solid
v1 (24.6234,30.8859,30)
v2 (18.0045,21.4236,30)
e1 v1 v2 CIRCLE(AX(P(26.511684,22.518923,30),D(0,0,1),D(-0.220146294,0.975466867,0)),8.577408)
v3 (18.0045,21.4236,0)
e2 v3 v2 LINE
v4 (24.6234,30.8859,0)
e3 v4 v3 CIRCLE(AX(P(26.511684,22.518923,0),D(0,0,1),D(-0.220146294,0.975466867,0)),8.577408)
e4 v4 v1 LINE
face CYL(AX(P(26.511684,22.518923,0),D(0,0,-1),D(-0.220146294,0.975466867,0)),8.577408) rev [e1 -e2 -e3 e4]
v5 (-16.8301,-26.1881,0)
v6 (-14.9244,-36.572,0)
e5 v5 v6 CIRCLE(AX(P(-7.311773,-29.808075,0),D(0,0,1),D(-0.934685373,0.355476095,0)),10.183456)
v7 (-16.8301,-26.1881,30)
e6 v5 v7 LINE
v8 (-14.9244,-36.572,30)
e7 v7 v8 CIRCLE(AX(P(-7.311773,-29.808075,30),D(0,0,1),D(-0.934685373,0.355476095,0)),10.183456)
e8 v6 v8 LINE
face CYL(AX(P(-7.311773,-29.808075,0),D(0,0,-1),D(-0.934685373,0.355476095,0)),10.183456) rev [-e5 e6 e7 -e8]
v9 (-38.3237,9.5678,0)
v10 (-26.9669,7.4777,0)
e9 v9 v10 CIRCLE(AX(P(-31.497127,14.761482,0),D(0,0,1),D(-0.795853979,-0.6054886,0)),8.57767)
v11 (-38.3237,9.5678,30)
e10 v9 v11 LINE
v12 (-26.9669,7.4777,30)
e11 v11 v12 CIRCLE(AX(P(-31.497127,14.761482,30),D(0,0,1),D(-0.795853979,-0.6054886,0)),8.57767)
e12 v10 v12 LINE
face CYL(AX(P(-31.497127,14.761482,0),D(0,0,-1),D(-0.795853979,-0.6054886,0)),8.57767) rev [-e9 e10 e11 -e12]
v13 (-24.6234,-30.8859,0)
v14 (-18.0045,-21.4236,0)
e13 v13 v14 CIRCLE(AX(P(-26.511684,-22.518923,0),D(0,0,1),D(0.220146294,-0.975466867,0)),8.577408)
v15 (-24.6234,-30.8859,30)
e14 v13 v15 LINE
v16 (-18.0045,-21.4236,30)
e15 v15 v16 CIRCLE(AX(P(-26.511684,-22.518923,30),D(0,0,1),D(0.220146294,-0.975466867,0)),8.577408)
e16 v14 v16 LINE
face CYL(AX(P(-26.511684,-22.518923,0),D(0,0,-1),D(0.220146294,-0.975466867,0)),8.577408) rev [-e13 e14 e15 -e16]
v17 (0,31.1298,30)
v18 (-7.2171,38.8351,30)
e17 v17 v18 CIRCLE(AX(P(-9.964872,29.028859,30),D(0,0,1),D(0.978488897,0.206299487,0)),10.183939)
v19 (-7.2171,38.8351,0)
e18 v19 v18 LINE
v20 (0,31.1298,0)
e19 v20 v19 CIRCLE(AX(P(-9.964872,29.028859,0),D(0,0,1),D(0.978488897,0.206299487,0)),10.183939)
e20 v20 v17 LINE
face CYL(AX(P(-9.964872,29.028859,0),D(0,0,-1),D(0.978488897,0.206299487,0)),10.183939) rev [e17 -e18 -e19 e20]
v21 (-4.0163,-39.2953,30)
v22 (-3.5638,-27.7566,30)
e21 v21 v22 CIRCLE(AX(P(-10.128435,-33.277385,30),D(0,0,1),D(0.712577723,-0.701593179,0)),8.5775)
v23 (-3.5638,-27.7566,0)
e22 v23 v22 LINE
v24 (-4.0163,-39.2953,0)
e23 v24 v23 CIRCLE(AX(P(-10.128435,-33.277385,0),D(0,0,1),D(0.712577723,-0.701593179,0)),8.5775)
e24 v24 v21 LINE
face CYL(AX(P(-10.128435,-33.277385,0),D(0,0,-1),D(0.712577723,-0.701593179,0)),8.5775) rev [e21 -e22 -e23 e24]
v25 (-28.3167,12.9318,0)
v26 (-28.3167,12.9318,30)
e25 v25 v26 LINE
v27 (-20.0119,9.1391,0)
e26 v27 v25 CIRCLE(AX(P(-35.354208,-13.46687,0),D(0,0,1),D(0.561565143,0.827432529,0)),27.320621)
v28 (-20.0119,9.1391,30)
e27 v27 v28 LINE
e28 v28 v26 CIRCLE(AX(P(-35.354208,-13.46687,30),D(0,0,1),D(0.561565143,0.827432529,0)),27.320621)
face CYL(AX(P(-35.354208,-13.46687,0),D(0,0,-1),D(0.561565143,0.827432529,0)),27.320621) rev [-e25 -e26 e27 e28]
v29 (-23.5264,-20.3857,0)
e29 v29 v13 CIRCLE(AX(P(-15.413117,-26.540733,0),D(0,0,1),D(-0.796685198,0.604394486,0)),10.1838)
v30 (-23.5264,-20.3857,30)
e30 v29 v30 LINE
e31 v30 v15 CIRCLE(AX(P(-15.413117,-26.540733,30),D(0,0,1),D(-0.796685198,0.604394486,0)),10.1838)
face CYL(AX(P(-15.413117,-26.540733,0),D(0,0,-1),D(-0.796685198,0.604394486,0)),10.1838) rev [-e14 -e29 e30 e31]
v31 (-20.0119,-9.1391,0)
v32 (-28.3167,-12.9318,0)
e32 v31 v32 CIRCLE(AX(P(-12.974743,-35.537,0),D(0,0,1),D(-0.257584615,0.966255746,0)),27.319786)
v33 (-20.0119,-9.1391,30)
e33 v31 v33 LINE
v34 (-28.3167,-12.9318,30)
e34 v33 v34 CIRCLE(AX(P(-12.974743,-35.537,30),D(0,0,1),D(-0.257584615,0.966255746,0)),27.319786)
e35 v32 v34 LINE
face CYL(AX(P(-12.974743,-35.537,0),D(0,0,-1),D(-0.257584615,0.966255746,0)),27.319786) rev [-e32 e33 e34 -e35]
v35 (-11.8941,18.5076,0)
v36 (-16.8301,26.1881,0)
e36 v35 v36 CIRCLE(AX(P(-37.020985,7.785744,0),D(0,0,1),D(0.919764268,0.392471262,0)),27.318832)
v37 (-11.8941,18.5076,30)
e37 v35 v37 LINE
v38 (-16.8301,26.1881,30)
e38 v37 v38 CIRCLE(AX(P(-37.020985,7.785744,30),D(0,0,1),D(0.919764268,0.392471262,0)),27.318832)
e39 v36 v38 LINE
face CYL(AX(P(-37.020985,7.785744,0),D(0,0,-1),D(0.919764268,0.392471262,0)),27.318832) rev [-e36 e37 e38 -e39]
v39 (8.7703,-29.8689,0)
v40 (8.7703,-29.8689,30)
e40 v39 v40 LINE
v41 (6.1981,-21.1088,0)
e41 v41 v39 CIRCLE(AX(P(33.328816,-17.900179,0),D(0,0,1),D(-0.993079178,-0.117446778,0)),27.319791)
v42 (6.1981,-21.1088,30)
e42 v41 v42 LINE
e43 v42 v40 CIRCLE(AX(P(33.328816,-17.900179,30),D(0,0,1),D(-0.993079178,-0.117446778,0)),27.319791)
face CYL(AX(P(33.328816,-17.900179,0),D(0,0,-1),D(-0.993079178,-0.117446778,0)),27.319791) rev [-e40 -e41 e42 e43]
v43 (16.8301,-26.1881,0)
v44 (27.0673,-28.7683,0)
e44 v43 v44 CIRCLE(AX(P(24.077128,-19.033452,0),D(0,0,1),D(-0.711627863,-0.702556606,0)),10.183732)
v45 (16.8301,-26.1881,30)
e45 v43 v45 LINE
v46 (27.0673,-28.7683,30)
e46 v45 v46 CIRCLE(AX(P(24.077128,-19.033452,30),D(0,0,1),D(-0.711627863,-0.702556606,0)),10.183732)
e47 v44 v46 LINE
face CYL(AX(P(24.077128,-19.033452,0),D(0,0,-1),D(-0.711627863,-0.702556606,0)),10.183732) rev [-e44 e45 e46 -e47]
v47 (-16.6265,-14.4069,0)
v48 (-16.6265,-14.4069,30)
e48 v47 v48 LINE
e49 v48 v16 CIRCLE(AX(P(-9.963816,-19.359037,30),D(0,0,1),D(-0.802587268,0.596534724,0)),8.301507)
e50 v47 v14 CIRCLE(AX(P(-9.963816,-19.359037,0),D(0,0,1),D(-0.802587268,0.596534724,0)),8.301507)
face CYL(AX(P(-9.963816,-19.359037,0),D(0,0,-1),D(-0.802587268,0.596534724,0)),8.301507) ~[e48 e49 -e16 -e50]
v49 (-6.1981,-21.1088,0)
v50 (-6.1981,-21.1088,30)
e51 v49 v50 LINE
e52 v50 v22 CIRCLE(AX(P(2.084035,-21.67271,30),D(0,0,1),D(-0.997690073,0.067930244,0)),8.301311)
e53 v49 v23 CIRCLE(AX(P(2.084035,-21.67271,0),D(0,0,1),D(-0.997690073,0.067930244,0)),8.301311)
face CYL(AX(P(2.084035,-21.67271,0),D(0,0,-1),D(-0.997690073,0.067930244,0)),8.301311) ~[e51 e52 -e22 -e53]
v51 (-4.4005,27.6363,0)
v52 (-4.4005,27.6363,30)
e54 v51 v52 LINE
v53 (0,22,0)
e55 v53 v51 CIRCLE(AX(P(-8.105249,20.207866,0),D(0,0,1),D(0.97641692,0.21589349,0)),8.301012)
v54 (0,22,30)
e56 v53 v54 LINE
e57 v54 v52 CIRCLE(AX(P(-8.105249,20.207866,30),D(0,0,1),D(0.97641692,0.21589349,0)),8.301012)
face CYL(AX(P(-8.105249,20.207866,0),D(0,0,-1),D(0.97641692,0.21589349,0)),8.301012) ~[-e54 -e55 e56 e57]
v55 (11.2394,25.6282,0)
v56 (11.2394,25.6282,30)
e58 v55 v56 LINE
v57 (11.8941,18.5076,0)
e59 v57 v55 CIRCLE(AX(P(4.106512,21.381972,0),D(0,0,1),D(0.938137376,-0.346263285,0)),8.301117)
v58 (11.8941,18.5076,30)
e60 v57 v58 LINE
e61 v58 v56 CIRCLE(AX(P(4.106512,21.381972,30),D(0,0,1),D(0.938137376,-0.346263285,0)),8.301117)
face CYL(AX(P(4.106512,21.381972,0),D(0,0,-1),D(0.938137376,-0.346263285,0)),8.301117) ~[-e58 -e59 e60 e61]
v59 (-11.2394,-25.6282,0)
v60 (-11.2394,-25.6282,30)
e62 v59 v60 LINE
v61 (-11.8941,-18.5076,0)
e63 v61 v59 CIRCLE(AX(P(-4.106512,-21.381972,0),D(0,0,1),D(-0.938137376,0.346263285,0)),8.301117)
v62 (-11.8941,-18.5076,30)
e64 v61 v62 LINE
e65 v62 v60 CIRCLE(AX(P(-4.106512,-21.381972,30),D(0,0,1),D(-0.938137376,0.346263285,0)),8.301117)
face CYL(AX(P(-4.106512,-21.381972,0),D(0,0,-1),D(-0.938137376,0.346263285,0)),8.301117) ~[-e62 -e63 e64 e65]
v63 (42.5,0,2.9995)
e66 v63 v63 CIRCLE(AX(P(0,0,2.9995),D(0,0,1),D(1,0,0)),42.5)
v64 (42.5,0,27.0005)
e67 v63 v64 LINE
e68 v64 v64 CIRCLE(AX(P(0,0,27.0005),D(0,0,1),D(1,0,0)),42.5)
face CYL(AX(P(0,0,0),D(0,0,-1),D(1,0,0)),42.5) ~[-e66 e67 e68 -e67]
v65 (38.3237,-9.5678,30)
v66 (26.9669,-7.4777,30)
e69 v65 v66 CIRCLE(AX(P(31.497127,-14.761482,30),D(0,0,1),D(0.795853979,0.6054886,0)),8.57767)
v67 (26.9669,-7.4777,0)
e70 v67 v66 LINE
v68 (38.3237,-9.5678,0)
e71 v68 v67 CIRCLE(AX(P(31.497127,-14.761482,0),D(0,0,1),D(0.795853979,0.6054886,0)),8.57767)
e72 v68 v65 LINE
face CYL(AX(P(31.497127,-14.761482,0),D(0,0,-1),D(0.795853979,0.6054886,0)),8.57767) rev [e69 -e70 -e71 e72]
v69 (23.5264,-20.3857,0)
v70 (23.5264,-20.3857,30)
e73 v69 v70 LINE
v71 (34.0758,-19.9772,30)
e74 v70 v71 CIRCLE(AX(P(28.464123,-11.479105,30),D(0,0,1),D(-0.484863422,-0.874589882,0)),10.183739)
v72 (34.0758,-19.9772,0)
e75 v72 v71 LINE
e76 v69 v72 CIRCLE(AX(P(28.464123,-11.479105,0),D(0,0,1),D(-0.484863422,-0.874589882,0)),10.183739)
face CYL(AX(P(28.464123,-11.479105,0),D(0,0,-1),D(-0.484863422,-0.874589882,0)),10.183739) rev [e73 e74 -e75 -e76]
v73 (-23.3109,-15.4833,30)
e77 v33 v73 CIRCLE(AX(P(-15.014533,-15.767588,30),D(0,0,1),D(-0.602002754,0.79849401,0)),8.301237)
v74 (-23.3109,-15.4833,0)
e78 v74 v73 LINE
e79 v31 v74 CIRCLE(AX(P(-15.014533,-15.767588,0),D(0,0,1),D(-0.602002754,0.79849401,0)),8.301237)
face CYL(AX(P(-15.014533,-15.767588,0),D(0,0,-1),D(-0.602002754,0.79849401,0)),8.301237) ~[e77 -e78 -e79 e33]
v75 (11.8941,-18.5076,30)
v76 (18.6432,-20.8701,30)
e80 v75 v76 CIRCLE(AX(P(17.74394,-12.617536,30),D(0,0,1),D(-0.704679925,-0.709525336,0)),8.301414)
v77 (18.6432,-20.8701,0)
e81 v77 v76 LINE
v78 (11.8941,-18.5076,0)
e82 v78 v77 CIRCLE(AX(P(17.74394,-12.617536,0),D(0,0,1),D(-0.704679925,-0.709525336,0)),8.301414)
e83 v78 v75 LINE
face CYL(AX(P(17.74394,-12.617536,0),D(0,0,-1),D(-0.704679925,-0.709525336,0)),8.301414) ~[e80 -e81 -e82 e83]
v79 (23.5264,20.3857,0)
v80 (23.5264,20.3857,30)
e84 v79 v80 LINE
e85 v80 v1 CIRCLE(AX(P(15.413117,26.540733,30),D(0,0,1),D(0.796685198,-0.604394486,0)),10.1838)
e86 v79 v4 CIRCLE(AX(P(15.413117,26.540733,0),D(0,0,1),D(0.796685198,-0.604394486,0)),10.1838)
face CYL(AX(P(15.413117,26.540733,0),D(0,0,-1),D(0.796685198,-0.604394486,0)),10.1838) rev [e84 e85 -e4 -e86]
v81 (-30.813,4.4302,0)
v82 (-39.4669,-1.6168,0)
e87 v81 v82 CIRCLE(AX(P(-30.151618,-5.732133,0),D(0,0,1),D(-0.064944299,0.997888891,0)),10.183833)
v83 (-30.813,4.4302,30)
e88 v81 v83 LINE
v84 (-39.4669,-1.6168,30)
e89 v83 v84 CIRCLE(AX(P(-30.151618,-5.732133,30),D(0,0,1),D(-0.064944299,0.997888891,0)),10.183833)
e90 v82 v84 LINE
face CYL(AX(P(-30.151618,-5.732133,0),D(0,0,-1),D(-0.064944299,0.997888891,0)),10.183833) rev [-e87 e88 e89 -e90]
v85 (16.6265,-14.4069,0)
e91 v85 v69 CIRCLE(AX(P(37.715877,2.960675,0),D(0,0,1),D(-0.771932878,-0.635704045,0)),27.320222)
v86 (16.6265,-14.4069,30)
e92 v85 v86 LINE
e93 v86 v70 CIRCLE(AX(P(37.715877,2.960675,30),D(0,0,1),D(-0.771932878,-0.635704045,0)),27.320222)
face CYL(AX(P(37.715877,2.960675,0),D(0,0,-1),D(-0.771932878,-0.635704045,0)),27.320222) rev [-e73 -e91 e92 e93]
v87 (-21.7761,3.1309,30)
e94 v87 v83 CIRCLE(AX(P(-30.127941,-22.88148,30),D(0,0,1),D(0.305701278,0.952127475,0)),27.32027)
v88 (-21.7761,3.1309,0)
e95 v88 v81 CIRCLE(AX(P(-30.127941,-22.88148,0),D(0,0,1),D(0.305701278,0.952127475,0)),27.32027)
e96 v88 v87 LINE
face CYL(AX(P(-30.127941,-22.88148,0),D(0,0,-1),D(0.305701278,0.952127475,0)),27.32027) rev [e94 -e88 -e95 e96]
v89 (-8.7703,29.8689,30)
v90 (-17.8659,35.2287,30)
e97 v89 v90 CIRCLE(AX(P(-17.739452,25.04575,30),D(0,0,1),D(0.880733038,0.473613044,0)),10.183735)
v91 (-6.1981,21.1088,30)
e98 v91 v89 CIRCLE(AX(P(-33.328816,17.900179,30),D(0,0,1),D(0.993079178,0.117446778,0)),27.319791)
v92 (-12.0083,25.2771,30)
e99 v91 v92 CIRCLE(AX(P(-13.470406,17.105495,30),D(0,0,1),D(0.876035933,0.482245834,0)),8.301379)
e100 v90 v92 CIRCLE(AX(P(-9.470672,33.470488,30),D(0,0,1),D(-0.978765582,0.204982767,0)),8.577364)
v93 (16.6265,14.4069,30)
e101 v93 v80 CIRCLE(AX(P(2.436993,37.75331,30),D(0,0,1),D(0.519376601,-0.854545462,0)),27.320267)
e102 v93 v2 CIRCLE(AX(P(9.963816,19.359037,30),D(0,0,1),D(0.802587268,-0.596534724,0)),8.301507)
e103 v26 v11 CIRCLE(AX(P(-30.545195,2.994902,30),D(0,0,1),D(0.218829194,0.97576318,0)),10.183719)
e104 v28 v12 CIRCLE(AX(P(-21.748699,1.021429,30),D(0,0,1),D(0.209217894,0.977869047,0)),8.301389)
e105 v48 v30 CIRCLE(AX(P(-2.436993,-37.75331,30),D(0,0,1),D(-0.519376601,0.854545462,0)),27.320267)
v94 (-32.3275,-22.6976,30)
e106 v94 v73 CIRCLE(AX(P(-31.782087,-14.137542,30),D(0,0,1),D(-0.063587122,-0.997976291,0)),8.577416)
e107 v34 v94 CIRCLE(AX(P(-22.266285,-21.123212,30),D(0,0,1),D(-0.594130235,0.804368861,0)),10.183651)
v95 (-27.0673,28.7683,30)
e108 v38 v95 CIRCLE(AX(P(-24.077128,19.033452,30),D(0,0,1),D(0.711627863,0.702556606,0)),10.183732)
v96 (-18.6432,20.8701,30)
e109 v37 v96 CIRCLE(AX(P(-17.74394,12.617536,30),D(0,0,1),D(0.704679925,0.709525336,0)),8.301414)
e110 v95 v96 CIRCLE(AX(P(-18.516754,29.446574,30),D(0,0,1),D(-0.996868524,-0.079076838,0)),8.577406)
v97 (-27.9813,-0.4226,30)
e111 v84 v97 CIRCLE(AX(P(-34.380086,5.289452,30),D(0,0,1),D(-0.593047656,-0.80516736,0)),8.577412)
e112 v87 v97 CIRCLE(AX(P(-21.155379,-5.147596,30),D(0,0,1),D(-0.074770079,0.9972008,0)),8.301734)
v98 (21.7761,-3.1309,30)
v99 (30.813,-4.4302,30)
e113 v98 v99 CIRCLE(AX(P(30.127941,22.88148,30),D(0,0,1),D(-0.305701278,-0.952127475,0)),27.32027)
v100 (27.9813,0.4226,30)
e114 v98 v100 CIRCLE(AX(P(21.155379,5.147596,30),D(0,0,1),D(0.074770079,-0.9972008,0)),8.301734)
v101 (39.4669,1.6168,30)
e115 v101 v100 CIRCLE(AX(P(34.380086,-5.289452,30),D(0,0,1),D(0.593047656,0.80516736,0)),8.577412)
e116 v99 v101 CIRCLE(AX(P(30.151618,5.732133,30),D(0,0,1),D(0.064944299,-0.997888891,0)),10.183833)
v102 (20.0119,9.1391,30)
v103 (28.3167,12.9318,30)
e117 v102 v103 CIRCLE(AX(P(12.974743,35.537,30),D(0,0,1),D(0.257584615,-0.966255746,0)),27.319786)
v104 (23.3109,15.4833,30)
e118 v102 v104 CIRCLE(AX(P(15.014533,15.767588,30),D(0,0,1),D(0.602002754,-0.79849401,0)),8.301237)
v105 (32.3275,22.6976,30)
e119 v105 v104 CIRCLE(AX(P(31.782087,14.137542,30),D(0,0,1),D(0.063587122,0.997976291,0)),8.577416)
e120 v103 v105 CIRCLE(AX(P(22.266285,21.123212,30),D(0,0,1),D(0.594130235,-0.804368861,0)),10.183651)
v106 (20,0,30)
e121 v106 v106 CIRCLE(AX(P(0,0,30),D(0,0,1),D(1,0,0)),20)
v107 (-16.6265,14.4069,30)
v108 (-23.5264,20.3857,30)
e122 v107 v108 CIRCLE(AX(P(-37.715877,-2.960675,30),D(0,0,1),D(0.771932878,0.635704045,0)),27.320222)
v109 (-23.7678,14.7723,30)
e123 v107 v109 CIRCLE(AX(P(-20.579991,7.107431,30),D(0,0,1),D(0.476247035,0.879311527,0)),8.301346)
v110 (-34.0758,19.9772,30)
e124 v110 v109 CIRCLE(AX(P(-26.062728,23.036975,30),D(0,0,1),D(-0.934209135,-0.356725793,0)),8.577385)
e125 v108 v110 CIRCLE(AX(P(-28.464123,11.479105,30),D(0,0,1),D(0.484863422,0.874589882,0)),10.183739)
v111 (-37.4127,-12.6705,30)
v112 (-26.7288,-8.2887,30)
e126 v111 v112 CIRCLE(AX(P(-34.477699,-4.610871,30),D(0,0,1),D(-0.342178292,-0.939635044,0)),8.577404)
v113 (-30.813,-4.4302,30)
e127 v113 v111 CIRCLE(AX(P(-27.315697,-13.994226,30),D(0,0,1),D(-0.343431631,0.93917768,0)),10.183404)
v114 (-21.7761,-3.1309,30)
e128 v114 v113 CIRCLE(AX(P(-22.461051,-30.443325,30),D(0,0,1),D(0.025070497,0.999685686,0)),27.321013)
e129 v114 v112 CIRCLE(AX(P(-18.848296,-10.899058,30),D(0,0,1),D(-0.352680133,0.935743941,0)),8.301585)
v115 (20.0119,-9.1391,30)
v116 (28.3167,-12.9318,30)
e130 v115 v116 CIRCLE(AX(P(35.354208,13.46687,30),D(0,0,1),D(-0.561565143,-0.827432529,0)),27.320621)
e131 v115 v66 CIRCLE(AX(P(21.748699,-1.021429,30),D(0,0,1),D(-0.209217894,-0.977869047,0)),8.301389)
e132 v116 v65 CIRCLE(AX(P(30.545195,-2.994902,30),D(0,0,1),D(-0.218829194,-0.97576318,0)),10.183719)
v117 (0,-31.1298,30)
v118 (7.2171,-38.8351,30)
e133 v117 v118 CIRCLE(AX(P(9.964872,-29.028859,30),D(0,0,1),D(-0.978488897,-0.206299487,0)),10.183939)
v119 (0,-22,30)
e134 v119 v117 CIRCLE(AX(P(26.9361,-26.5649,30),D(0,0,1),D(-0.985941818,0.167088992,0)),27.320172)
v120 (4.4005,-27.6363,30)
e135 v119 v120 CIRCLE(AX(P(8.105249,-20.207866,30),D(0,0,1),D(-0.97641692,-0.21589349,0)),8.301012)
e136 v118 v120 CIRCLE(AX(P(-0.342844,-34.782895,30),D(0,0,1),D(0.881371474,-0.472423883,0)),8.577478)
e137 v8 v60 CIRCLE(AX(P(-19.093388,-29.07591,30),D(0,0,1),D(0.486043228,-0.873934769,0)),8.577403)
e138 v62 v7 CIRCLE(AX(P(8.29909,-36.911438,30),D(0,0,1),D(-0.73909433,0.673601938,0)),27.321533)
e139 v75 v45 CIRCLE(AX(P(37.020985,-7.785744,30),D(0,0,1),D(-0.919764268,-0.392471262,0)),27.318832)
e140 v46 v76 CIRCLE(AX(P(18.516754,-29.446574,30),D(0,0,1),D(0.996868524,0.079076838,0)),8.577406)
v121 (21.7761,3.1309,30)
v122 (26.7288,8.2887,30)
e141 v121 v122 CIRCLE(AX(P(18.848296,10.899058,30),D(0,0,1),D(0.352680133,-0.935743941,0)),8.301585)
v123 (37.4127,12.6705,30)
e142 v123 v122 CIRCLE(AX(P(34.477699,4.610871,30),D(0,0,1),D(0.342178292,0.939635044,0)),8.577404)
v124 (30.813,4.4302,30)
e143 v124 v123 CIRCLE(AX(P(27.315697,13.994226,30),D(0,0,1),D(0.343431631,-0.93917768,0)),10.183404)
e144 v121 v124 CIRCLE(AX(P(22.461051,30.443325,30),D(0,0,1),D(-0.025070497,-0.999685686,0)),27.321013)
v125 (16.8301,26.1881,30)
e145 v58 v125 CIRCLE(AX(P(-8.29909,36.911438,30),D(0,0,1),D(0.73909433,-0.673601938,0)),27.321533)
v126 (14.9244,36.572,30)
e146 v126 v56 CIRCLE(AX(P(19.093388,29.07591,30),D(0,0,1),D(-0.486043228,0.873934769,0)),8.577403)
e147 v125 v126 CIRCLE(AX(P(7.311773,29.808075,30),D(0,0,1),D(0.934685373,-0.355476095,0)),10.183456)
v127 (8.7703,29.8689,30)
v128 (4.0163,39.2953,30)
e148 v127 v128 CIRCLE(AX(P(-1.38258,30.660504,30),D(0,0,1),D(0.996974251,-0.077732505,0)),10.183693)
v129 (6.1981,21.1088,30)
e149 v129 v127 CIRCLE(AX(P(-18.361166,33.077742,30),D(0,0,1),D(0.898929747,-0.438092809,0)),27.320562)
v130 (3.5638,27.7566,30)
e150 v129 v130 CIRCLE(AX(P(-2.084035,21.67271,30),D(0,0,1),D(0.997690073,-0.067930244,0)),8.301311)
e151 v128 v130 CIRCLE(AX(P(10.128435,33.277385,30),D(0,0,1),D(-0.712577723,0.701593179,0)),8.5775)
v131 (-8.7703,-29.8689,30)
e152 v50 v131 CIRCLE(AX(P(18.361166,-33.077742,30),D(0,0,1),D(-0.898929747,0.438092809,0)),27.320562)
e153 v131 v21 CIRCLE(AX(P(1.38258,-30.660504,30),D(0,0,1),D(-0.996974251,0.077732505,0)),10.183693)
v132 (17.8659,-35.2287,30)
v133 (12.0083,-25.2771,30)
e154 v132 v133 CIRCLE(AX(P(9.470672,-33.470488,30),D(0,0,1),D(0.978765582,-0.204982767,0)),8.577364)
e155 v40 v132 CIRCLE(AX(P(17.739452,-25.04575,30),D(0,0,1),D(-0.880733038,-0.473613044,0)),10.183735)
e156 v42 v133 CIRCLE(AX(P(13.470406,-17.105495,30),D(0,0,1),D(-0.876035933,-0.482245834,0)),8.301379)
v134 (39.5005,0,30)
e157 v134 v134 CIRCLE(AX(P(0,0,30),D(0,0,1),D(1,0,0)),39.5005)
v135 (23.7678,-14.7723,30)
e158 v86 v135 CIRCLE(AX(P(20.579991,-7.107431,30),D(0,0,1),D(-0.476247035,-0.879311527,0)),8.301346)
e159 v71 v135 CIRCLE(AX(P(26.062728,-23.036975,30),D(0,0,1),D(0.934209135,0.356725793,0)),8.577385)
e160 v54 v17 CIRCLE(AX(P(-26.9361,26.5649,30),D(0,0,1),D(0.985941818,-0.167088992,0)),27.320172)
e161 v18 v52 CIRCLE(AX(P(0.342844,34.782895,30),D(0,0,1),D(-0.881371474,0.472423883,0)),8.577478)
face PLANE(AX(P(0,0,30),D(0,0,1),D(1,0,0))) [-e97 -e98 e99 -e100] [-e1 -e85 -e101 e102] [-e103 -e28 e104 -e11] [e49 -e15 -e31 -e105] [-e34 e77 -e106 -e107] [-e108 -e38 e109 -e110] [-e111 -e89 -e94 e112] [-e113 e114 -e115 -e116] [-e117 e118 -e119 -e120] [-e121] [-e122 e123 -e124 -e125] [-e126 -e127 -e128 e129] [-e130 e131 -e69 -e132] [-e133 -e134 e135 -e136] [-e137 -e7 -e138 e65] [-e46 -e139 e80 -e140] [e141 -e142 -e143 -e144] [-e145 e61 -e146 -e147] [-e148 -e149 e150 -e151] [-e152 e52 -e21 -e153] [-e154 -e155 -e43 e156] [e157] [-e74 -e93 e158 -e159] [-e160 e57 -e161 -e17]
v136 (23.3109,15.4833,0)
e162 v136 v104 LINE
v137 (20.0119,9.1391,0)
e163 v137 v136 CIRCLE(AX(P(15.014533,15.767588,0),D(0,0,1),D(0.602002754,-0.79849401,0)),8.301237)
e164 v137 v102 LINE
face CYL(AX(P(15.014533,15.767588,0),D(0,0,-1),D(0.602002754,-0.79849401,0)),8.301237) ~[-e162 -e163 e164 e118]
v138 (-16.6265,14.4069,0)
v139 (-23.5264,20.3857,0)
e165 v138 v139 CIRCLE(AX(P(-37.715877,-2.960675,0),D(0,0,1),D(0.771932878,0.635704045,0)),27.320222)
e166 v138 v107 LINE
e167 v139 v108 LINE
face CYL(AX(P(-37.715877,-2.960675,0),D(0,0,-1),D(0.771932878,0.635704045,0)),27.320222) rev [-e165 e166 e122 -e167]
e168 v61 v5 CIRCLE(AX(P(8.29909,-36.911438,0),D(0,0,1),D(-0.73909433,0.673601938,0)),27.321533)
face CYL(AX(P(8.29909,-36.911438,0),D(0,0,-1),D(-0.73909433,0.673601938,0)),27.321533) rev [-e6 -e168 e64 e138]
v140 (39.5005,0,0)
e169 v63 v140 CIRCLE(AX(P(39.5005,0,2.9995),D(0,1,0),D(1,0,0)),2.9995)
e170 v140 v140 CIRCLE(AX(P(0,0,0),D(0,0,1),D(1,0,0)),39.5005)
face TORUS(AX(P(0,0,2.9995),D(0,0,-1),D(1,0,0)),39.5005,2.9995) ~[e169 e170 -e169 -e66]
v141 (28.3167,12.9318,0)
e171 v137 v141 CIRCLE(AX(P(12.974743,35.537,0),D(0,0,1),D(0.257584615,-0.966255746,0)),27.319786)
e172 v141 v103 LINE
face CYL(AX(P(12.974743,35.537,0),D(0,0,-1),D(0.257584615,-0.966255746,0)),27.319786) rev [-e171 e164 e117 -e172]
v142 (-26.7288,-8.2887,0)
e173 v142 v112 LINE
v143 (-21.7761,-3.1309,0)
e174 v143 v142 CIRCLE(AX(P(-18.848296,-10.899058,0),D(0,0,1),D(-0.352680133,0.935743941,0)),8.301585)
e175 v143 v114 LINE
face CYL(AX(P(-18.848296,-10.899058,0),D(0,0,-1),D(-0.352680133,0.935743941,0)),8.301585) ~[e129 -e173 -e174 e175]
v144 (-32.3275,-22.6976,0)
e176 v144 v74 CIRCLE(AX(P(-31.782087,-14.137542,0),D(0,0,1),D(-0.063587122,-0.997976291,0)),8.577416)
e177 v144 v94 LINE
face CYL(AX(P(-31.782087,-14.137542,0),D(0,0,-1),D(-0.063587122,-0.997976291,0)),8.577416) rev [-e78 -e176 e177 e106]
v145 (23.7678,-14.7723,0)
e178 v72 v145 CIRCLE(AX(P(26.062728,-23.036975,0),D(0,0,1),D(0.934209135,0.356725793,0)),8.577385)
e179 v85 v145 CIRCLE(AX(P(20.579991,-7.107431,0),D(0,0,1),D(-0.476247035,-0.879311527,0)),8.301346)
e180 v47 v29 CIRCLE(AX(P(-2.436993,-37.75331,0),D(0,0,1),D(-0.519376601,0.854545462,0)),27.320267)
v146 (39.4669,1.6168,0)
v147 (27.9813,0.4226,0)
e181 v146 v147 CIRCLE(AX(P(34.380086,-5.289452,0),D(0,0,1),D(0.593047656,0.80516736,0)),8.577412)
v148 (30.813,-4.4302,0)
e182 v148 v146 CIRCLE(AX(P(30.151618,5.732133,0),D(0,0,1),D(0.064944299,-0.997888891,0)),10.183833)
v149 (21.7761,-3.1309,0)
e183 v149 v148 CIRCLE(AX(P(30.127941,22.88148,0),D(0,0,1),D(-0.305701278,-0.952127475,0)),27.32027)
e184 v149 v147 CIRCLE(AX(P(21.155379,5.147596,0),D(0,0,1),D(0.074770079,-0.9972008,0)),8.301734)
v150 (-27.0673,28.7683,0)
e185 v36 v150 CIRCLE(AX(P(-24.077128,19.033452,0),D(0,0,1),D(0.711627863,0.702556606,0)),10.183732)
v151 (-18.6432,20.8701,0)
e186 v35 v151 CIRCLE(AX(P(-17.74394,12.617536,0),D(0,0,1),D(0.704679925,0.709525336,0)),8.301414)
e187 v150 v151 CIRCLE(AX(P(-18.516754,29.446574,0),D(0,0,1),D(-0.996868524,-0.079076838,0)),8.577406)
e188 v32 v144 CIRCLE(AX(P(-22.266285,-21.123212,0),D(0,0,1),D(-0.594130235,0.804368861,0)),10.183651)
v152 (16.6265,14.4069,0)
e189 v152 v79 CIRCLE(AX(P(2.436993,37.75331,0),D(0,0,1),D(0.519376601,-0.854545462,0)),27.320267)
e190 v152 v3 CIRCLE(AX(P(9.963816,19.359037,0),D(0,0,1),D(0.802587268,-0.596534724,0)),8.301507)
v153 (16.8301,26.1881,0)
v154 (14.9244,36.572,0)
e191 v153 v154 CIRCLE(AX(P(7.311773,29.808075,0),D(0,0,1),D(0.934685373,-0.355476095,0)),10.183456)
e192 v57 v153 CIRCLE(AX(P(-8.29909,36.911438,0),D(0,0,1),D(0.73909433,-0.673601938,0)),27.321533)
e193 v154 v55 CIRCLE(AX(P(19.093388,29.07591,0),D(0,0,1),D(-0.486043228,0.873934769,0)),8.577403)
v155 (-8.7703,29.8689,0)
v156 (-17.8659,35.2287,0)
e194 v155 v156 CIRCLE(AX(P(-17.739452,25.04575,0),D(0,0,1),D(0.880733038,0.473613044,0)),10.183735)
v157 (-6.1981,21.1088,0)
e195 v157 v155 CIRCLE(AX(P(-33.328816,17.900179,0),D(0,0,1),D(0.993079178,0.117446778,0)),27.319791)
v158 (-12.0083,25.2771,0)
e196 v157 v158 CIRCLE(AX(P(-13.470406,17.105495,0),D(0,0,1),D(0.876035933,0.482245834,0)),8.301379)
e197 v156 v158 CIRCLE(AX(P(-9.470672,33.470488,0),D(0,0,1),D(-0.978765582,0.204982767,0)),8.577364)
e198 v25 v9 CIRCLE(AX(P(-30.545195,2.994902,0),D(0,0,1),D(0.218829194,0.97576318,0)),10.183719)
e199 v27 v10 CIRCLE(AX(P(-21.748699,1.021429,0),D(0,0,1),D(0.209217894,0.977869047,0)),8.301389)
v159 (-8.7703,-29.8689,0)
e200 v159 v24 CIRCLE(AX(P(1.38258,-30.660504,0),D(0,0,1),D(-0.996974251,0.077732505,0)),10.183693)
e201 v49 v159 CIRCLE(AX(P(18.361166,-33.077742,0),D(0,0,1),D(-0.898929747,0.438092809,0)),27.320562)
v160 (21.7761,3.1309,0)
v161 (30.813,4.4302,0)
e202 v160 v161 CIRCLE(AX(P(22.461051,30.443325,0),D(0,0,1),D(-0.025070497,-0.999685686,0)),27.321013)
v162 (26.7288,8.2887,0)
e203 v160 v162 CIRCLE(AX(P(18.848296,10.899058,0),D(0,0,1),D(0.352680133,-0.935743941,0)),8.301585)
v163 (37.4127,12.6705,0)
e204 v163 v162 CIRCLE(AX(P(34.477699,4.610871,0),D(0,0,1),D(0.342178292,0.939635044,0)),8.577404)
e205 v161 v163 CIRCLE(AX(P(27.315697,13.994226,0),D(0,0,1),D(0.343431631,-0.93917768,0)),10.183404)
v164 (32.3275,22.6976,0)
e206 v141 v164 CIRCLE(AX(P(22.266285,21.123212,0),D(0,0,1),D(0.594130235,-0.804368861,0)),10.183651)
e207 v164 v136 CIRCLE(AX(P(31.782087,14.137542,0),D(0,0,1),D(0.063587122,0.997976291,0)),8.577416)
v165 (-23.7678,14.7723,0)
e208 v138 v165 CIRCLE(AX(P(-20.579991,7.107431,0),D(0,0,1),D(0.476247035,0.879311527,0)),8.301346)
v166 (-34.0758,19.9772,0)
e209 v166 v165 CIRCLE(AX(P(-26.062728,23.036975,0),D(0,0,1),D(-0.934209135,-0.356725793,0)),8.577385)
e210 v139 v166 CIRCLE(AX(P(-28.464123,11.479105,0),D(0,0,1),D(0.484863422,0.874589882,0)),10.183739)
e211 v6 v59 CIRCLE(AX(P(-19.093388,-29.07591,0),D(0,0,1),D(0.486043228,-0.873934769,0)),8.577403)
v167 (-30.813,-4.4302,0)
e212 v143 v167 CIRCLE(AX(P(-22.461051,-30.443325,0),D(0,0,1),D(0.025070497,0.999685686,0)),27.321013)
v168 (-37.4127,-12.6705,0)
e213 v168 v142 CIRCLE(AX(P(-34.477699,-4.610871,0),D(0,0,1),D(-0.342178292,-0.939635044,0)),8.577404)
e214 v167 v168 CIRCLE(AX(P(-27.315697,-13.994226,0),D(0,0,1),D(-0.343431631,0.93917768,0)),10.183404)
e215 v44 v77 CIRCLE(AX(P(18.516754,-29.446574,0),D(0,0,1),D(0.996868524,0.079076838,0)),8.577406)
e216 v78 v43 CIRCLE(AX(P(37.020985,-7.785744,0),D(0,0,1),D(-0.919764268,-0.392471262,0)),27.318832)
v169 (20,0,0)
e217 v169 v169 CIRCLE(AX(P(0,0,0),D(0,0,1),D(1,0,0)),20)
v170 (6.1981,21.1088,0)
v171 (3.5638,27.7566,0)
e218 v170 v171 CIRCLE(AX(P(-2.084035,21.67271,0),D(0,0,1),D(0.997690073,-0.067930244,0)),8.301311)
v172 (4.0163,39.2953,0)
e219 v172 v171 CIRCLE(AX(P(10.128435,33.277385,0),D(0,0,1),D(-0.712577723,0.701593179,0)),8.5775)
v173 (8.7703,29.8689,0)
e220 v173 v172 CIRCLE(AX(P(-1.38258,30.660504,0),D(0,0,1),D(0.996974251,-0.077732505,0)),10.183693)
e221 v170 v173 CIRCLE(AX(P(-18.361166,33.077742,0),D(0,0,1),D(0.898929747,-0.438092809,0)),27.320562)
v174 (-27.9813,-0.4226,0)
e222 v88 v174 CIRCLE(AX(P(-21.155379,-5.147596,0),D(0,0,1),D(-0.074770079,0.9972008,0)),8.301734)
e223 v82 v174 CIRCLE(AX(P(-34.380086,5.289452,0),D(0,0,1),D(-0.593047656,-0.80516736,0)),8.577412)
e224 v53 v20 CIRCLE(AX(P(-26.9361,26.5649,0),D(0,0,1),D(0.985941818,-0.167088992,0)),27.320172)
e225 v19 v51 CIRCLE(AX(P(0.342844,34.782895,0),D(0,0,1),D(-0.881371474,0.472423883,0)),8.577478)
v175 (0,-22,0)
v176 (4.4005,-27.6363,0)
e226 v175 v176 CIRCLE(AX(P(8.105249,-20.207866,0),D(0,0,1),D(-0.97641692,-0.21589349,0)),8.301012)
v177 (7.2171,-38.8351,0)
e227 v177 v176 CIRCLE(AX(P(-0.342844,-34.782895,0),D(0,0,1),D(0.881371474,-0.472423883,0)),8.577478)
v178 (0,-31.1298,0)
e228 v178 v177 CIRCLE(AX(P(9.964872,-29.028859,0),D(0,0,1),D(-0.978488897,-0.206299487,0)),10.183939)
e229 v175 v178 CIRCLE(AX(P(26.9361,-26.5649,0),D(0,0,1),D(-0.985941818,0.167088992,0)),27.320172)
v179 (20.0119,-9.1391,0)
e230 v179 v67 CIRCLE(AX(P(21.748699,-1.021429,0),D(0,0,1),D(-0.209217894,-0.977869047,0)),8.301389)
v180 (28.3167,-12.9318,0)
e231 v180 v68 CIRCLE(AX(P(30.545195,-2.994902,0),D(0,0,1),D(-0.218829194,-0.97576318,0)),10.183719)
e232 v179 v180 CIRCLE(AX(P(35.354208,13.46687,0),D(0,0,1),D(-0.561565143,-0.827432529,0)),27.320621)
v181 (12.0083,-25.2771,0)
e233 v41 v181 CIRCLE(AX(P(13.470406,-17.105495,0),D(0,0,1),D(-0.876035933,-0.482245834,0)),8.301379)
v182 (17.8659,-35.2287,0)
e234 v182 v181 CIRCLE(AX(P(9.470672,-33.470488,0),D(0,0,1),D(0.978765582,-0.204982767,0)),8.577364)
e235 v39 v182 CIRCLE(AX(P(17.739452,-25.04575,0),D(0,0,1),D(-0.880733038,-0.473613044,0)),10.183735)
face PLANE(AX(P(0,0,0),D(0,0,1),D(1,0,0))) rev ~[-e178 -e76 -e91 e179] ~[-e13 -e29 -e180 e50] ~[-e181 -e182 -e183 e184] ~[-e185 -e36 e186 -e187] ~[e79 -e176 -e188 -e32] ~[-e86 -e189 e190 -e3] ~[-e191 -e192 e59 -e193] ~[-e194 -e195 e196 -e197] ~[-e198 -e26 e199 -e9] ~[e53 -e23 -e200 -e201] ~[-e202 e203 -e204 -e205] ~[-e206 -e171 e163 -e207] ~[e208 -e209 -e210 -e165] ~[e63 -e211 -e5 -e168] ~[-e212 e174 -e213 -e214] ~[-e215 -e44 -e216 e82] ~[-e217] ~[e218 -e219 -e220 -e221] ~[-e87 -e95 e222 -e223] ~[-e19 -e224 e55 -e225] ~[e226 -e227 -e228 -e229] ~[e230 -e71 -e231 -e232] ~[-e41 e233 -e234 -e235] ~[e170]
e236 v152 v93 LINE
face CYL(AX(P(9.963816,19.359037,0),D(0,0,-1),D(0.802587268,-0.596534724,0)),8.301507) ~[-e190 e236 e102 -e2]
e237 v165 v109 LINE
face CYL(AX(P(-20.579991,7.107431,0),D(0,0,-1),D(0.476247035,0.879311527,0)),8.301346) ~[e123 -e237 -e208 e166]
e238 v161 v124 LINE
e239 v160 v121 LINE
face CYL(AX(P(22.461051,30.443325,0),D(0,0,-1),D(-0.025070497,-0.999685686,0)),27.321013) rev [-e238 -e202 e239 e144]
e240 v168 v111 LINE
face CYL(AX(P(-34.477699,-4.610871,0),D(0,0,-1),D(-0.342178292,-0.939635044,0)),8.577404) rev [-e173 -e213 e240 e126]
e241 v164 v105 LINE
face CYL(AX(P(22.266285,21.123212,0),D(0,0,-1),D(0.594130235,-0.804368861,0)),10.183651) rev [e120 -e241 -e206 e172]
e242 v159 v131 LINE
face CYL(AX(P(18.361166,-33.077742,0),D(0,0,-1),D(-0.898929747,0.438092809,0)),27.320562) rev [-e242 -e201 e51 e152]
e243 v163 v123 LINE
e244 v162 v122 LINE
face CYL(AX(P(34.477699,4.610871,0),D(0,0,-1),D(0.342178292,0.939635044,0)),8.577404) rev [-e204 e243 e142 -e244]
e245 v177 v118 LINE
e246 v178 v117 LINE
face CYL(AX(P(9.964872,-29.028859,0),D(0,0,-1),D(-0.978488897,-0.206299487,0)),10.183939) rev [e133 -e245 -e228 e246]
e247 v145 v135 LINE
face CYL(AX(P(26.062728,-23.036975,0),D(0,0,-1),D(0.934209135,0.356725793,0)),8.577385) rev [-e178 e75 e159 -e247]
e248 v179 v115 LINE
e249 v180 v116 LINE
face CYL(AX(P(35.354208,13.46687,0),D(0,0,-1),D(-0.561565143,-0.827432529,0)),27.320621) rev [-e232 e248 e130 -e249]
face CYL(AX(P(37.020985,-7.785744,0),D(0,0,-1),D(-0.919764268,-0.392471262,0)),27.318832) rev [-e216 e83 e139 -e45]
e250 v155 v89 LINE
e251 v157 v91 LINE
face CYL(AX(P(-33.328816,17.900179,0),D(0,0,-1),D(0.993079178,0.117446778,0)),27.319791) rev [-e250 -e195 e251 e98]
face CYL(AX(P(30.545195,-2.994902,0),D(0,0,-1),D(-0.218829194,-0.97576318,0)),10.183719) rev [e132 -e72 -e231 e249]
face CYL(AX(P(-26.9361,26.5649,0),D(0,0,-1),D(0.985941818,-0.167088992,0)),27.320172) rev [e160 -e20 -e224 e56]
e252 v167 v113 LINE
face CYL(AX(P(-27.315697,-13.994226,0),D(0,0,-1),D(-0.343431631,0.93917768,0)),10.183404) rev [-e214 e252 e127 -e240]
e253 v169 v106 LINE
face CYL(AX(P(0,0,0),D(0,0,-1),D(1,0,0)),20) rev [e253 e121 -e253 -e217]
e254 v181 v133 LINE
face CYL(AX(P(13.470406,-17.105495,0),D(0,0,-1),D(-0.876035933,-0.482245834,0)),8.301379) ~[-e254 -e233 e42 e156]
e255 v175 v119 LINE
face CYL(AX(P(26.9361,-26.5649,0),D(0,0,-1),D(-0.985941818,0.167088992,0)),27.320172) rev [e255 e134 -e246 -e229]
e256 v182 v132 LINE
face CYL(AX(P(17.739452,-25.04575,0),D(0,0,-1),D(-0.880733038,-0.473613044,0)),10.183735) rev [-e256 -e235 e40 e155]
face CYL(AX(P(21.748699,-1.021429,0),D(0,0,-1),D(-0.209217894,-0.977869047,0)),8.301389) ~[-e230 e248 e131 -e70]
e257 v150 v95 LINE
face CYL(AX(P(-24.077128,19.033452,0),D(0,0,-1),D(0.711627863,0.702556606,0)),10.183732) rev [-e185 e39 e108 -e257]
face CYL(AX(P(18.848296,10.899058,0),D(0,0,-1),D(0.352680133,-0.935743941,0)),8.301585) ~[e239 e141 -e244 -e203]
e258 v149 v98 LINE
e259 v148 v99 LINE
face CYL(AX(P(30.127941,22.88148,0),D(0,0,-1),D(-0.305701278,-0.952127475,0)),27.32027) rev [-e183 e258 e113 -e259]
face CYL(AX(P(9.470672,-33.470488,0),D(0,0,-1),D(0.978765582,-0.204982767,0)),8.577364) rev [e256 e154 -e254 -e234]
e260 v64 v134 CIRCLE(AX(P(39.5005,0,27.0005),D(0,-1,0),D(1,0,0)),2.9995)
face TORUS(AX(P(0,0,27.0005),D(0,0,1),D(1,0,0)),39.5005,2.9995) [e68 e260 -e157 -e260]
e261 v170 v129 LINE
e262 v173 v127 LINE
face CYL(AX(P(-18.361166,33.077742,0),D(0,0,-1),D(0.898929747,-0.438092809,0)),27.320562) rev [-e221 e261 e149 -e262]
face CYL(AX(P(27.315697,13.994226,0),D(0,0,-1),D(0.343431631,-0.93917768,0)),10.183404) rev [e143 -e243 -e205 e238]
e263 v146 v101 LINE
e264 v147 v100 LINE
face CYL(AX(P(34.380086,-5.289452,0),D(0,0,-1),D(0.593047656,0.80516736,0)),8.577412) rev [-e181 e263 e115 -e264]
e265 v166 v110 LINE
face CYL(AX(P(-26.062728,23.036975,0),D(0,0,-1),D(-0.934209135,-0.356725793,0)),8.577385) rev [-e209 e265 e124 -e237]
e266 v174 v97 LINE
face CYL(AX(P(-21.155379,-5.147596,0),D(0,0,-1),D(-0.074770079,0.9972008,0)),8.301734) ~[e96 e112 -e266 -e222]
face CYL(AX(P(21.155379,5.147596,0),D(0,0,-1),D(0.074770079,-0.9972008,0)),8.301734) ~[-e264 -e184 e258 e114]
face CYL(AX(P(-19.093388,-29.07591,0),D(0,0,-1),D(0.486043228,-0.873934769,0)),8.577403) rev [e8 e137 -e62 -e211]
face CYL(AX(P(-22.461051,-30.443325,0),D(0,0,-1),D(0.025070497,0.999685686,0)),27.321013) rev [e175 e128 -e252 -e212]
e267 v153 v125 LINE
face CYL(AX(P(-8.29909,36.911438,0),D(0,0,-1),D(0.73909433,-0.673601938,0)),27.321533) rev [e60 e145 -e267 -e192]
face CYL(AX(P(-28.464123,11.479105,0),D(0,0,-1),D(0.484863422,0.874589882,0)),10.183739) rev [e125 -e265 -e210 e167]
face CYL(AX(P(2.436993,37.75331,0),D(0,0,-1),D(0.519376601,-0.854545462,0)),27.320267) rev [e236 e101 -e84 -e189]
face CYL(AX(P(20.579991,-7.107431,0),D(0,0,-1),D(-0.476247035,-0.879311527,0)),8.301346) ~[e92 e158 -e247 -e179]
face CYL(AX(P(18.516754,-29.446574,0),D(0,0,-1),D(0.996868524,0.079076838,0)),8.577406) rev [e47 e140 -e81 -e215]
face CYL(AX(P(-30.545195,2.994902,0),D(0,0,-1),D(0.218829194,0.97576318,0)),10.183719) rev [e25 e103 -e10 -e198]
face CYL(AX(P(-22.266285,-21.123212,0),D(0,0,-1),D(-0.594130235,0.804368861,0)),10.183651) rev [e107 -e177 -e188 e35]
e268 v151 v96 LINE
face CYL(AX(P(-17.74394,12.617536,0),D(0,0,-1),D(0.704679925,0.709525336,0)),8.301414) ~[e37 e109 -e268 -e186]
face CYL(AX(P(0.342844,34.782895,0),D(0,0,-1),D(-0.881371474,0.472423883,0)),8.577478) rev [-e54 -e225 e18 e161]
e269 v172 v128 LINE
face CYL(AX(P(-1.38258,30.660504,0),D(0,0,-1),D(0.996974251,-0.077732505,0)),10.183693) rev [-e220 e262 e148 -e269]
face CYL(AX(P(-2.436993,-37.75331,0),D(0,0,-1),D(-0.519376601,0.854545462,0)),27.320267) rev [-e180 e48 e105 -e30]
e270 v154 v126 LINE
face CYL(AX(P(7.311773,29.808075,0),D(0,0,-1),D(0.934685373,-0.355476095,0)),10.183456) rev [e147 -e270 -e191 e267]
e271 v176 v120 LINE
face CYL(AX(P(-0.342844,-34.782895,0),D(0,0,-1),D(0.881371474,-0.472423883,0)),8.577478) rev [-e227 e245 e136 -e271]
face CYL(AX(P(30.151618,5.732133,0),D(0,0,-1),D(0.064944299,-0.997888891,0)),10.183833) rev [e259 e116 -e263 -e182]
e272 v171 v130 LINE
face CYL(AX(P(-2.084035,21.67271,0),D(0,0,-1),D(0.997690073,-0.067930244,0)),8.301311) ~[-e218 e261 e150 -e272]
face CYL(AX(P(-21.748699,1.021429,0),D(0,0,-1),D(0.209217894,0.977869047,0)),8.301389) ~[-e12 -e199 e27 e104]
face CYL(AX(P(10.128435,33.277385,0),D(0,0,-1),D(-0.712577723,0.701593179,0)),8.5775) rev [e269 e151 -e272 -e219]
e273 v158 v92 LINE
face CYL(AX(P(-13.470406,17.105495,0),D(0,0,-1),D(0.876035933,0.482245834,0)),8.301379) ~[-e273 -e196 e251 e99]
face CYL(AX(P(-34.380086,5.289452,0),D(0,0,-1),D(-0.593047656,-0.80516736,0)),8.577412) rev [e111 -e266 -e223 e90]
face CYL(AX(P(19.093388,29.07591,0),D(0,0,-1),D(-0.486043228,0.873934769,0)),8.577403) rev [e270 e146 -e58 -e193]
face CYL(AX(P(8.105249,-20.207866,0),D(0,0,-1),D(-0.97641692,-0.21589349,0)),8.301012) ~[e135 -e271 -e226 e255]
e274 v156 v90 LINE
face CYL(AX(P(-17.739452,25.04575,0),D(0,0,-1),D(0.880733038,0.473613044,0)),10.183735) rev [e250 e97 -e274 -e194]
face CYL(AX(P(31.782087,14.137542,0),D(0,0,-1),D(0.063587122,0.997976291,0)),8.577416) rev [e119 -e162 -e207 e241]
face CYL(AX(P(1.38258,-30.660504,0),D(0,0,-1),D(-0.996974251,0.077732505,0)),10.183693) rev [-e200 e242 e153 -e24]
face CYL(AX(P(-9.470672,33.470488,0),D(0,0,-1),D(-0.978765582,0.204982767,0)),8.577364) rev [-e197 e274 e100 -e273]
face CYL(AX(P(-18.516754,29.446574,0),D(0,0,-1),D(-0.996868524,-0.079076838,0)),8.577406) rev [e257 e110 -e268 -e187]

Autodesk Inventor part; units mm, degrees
ref_plane "YZ Plane" through (0, 0, 0) normal (1, 0, 0) x (0, 1, 0)
ref_plane "XZ Plane" through (0, 0, 0) normal (0, 1, 0) x (-1, 0, 0)
ref_plane "XY Plane" through (0, 0, 0) normal (0, 0, 1) x (1, 0, 0)
sketch "Sketch1" plane through (0, 0, 0) normal (0, 0, 1) x (1, 0, 0)
  circle A0 centre (0, 0) radius 42.5
  circle A1 centre (0, 0) radius 20
  circle A2 centre (0, 0) radius 22 construction
  circle A3 centre (0, 0) radius 39.5 construction
  arc A4 (-7.2171, 38.8351) -> (-4.4005, 27.6363) centre (0.3428, 34.7829) ccw
  arc A5 (0, 22) -> (-4.4005, 27.6363) centre (-8.1056, 20.2077) ccw
  arc A6 (0, 31.1298) -> (-7.2171, 38.8351) centre (-9.9646, 29.029) ccw
  arc A7 (0, 22) -> (0, 31.1298) centre (-26.9361, 26.5649) ccw
  arc A8 (-8.7703, 29.8689) -> (-17.8659, 35.2287) centre (-17.7394, 25.0458) ccw
  arc A9 (-17.8659, 35.2287) -> (-12.0083, 25.2771) centre (-9.4706, 33.4705) ccw
  arc A10 (-6.1981, 21.1088) -> (-12.0083, 25.2771) centre (-13.4704, 17.1055) ccw
  arc A11 (-6.1981, 21.1088) -> (-8.7703, 29.8689) centre (-33.3292, 17.9001) ccw
  arc A12 (-16.8301, 26.1881) -> (-27.0673, 28.7683) centre (-24.0771, 19.0335) ccw
  arc A13 (-27.0673, 28.7683) -> (-18.6432, 20.8701) centre (-18.5167, 29.4466) ccw
  arc A14 (-11.8941, 18.5076) -> (-18.6432, 20.8701) centre (-17.7439, 12.6176) ccw
  arc A15 (-11.8941, 18.5076) -> (-16.8301, 26.1881) centre (-37.0222, 7.7851) ccw
  arc A16 (-23.5264, 20.3857) -> (-34.0758, 19.9772) centre (-28.4641, 11.4792) ccw
  arc A17 (-34.0758, 19.9772) -> (-23.7678, 14.7723) centre (-26.0627, 23.037) ccw
  arc A18 (-16.6265, 14.4069) -> (-23.7678, 14.7723) centre (-20.58, 7.1074) ccw
  arc A19 (-16.6265, 14.4069) -> (-23.5264, 20.3857) centre (-37.7158, -2.9606) ccw
  arc A20 (-28.3167, 12.9318) -> (-38.3237, 9.5678) centre (-30.5452, 2.995) ccw
  arc A21 (-38.3237, 9.5678) -> (-26.9669, 7.4777) centre (-31.4973, 14.7612) ccw
  arc A22 (-20.0119, 9.1391) -> (-26.9669, 7.4777) centre (-21.7487, 1.0215) ccw
  arc A23 (-20.0119, 9.1391) -> (-28.3167, 12.9318) centre (-35.354, -13.4665) ccw
  arc A24 (-30.813, 4.4302) -> (-39.4669, -1.6168) centre (-30.1517, -5.7319) ccw
  arc A25 (-39.4669, -1.6168) -> (-27.9813, -0.4226) centre (-34.3801, 5.2894) ccw
  arc A26 (-21.7761, 3.1309) -> (-27.9813, -0.4226) centre (-21.1555, -5.1472) ccw
  arc A27 (-21.7761, 3.1309) -> (-30.813, 4.4302) centre (-30.1279, -22.8813) ccw
  arc A28 (-30.813, -4.4302) -> (-37.4127, -12.6705) centre (-27.3155, -13.9945) ccw
  arc A29 (-37.4127, -12.6705) -> (-26.7288, -8.2887) centre (-34.4777, -4.6108) ccw
  arc A30 (-21.7761, -3.1309) -> (-26.7288, -8.2887) centre (-18.8484, -10.8989) ccw
  arc A31 (-21.7761, -3.1309) -> (-30.813, -4.4302) centre (-22.4611, -30.4425) ccw
  arc A32 (-28.3167, -12.9318) -> (-32.3275, -22.6976) centre (-22.2663, -21.1232) ccw
  arc A33 (-32.3275, -22.6976) -> (-23.3109, -15.4833) centre (-31.7821, -14.1375) ccw
  arc A34 (-20.0119, -9.1391) -> (-23.3109, -15.4833) centre (-15.0144, -15.7677) ccw
  arc A35 (-20.0119, -9.1391) -> (-28.3167, -12.9318) centre (-12.9746, -35.5374) ccw
  arc A36 (-23.5264, -20.3857) -> (-24.6234, -30.8859) centre (-15.4132, -26.5407) ccw
  arc A37 (-24.6234, -30.8859) -> (-18.0045, -21.4236) centre (-26.5117, -22.5189) ccw
  arc A38 (-16.6265, -14.4069) -> (-18.0045, -21.4236) centre (-9.9639, -19.359) ccw
  arc A39 (-16.6265, -14.4069) -> (-23.5264, -20.3857) centre (-2.437, -37.7533) ccw
  arc A40 (-16.8301, -26.1881) -> (-14.9244, -36.572) centre (-7.3115, -29.8081) ccw
  arc A41 (-14.9244, -36.572) -> (-11.2394, -25.6282) centre (-19.0934, -29.0759) ccw
  arc A42 (-11.8941, -18.5076) -> (-11.2394, -25.6282) centre (-4.1063, -21.382) ccw
  arc A43 (-11.8941, -18.5076) -> (-16.8301, -26.1881) centre (8.298, -36.9106) ccw
  arc A44 (-8.7703, -29.8689) -> (-4.0163, -39.2953) centre (1.3826, -30.6605) ccw
  arc A45 (-4.0163, -39.2953) -> (-3.5638, -27.7566) centre (-10.1284, -33.2774) ccw
  arc A46 (-6.1981, -21.1088) -> (-3.5638, -27.7566) centre (2.0841, -21.6727) ccw
  arc A47 (-6.1981, -21.1088) -> (-8.7703, -29.8689) centre (18.3608, -33.0776) ccw
  arc A48 (0, -31.1298) -> (7.2171, -38.8351) centre (9.9646, -29.029) ccw
  arc A49 (7.2171, -38.8351) -> (4.4005, -27.6363) centre (-0.3428, -34.7829) ccw
  arc A50 (0, -22) -> (4.4005, -27.6363) centre (8.1056, -20.2077) ccw
  arc A51 (0, -22) -> (0, -31.1298) centre (26.9361, -26.5649) ccw
  arc A52 (8.7703, -29.8689) -> (17.8659, -35.2287) centre (17.7394, -25.0458) ccw
  arc A53 (17.8659, -35.2287) -> (12.0083, -25.2771) centre (9.4706, -33.4705) ccw
  arc A54 (6.1981, -21.1088) -> (12.0083, -25.2771) centre (13.4704, -17.1055) ccw
  arc A55 (6.1981, -21.1088) -> (8.7703, -29.8689) centre (33.3292, -17.9001) ccw
  arc A56 (16.8301, -26.1881) -> (27.0673, -28.7683) centre (24.0771, -19.0335) ccw
  arc A57 (27.0673, -28.7683) -> (18.6432, -20.8701) centre (18.5167, -29.4466) ccw
  arc A58 (11.8941, -18.5076) -> (18.6432, -20.8701) centre (17.7439, -12.6176) ccw
  arc A59 (11.8941, -18.5076) -> (16.8301, -26.1881) centre (37.0222, -7.7851) ccw
  arc A60 (23.5264, -20.3857) -> (34.0758, -19.9772) centre (28.4641, -11.4792) ccw
  arc A61 (34.0758, -19.9772) -> (23.7678, -14.7723) centre (26.0627, -23.037) ccw
  arc A62 (16.6265, -14.4069) -> (23.7678, -14.7723) centre (20.58, -7.1074) ccw
  arc A63 (16.6265, -14.4069) -> (23.5264, -20.3857) centre (37.7158, 2.9606) ccw
  arc A64 (28.3167, -12.9318) -> (38.3237, -9.5678) centre (30.5452, -2.995) ccw
  arc A65 (38.3237, -9.5678) -> (26.9669, -7.4777) centre (31.4973, -14.7612) ccw
  arc A66 (20.0119, -9.1391) -> (26.9669, -7.4777) centre (21.7487, -1.0215) ccw
  arc A67 (20.0119, -9.1391) -> (28.3167, -12.9318) centre (35.354, 13.4665) ccw
  arc A68 (30.813, -4.4302) -> (39.4669, 1.6168) centre (30.1517, 5.7319) ccw
  arc A69 (39.4669, 1.6168) -> (27.9813, 0.4226) centre (34.3801, -5.2894) ccw
  arc A70 (21.7761, -3.1309) -> (27.9813, 0.4226) centre (21.1555, 5.1472) ccw
  arc A71 (21.7761, -3.1309) -> (30.813, -4.4302) centre (30.1279, 22.8813) ccw
  arc A72 (30.813, 4.4302) -> (37.4127, 12.6705) centre (27.3155, 13.9945) ccw
  arc A73 (37.4127, 12.6705) -> (26.7288, 8.2887) centre (34.4777, 4.6108) ccw
  arc A74 (21.7761, 3.1309) -> (26.7288, 8.2887) centre (18.8484, 10.8989) ccw
  arc A75 (21.7761, 3.1309) -> (30.813, 4.4302) centre (22.4611, 30.4425) ccw
  arc A76 (28.3167, 12.9318) -> (32.3275, 22.6976) centre (22.2663, 21.1232) ccw
  arc A77 (32.3275, 22.6976) -> (23.3109, 15.4833) centre (31.7821, 14.1375) ccw
  arc A78 (20.0119, 9.1391) -> (23.3109, 15.4833) centre (15.0144, 15.7677) ccw
  arc A79 (20.0119, 9.1391) -> (28.3167, 12.9318) centre (12.9746, 35.5374) ccw
  arc A80 (23.5264, 20.3857) -> (24.6234, 30.8859) centre (15.4132, 26.5407) ccw
  arc A81 (24.6234, 30.8859) -> (18.0045, 21.4236) centre (26.5117, 22.5189) ccw
  arc A82 (16.6265, 14.4069) -> (18.0045, 21.4236) centre (9.9639, 19.359) ccw
  arc A83 (16.6265, 14.4069) -> (23.5264, 20.3857) centre (2.437, 37.7533) ccw
  arc A84 (16.8301, 26.1881) -> (14.9244, 36.572) centre (7.3115, 29.8081) ccw
  arc A85 (14.9244, 36.572) -> (11.2394, 25.6282) centre (19.0934, 29.0759) ccw
  arc A86 (11.8941, 18.5076) -> (11.2394, 25.6282) centre (4.1063, 21.382) ccw
  arc A87 (11.8941, 18.5076) -> (16.8301, 26.1881) centre (-8.298, 36.9106) ccw
  arc A88 (8.7703, 29.8689) -> (4.0163, 39.2953) centre (-1.3826, 30.6605) ccw
  arc A89 (4.0163, 39.2953) -> (3.5638, 27.7566) centre (10.1284, 33.2774) ccw
  arc A90 (6.1981, 21.1088) -> (3.5638, 27.7566) centre (-2.0841, 21.6727) ccw
  arc A91 (6.1981, 21.1088) -> (8.7703, 29.8689) centre (-18.3608, 33.0776) ccw
  point P0 (3.5638, 27.7566)
  point P1 (27.9813, 0.4226)
  point P2 (26.9669, -7.4777)
  point P3 (18.6432, -20.8701)
  point P4 (4.4005, -27.6363)
  point P5 (-3.5638, -27.7566)
  point P6 (-23.3109, -15.4833)
  point P7 (-27.9813, -0.4226)
  point P8 (-26.9669, 7.4777)
  point P9 (-23.7678, 14.7723)
  point P10 (-18.6432, 20.8701)
  point P11 (-12.0083, 25.2771)
  dimension "d0" = 85
  dimension "d1" = 40
  dimension "d2" = 2
  dimension "d3" = 3
  dimension "d6" = 360
extrude "Extrusion1" add sketch "Sketch1" along normal blind 30
fillet "Fillet1" radius 3 2 edges at (-42.5, 0, 30) (-42.5, 0, 0)
properties part number "Idea2"
